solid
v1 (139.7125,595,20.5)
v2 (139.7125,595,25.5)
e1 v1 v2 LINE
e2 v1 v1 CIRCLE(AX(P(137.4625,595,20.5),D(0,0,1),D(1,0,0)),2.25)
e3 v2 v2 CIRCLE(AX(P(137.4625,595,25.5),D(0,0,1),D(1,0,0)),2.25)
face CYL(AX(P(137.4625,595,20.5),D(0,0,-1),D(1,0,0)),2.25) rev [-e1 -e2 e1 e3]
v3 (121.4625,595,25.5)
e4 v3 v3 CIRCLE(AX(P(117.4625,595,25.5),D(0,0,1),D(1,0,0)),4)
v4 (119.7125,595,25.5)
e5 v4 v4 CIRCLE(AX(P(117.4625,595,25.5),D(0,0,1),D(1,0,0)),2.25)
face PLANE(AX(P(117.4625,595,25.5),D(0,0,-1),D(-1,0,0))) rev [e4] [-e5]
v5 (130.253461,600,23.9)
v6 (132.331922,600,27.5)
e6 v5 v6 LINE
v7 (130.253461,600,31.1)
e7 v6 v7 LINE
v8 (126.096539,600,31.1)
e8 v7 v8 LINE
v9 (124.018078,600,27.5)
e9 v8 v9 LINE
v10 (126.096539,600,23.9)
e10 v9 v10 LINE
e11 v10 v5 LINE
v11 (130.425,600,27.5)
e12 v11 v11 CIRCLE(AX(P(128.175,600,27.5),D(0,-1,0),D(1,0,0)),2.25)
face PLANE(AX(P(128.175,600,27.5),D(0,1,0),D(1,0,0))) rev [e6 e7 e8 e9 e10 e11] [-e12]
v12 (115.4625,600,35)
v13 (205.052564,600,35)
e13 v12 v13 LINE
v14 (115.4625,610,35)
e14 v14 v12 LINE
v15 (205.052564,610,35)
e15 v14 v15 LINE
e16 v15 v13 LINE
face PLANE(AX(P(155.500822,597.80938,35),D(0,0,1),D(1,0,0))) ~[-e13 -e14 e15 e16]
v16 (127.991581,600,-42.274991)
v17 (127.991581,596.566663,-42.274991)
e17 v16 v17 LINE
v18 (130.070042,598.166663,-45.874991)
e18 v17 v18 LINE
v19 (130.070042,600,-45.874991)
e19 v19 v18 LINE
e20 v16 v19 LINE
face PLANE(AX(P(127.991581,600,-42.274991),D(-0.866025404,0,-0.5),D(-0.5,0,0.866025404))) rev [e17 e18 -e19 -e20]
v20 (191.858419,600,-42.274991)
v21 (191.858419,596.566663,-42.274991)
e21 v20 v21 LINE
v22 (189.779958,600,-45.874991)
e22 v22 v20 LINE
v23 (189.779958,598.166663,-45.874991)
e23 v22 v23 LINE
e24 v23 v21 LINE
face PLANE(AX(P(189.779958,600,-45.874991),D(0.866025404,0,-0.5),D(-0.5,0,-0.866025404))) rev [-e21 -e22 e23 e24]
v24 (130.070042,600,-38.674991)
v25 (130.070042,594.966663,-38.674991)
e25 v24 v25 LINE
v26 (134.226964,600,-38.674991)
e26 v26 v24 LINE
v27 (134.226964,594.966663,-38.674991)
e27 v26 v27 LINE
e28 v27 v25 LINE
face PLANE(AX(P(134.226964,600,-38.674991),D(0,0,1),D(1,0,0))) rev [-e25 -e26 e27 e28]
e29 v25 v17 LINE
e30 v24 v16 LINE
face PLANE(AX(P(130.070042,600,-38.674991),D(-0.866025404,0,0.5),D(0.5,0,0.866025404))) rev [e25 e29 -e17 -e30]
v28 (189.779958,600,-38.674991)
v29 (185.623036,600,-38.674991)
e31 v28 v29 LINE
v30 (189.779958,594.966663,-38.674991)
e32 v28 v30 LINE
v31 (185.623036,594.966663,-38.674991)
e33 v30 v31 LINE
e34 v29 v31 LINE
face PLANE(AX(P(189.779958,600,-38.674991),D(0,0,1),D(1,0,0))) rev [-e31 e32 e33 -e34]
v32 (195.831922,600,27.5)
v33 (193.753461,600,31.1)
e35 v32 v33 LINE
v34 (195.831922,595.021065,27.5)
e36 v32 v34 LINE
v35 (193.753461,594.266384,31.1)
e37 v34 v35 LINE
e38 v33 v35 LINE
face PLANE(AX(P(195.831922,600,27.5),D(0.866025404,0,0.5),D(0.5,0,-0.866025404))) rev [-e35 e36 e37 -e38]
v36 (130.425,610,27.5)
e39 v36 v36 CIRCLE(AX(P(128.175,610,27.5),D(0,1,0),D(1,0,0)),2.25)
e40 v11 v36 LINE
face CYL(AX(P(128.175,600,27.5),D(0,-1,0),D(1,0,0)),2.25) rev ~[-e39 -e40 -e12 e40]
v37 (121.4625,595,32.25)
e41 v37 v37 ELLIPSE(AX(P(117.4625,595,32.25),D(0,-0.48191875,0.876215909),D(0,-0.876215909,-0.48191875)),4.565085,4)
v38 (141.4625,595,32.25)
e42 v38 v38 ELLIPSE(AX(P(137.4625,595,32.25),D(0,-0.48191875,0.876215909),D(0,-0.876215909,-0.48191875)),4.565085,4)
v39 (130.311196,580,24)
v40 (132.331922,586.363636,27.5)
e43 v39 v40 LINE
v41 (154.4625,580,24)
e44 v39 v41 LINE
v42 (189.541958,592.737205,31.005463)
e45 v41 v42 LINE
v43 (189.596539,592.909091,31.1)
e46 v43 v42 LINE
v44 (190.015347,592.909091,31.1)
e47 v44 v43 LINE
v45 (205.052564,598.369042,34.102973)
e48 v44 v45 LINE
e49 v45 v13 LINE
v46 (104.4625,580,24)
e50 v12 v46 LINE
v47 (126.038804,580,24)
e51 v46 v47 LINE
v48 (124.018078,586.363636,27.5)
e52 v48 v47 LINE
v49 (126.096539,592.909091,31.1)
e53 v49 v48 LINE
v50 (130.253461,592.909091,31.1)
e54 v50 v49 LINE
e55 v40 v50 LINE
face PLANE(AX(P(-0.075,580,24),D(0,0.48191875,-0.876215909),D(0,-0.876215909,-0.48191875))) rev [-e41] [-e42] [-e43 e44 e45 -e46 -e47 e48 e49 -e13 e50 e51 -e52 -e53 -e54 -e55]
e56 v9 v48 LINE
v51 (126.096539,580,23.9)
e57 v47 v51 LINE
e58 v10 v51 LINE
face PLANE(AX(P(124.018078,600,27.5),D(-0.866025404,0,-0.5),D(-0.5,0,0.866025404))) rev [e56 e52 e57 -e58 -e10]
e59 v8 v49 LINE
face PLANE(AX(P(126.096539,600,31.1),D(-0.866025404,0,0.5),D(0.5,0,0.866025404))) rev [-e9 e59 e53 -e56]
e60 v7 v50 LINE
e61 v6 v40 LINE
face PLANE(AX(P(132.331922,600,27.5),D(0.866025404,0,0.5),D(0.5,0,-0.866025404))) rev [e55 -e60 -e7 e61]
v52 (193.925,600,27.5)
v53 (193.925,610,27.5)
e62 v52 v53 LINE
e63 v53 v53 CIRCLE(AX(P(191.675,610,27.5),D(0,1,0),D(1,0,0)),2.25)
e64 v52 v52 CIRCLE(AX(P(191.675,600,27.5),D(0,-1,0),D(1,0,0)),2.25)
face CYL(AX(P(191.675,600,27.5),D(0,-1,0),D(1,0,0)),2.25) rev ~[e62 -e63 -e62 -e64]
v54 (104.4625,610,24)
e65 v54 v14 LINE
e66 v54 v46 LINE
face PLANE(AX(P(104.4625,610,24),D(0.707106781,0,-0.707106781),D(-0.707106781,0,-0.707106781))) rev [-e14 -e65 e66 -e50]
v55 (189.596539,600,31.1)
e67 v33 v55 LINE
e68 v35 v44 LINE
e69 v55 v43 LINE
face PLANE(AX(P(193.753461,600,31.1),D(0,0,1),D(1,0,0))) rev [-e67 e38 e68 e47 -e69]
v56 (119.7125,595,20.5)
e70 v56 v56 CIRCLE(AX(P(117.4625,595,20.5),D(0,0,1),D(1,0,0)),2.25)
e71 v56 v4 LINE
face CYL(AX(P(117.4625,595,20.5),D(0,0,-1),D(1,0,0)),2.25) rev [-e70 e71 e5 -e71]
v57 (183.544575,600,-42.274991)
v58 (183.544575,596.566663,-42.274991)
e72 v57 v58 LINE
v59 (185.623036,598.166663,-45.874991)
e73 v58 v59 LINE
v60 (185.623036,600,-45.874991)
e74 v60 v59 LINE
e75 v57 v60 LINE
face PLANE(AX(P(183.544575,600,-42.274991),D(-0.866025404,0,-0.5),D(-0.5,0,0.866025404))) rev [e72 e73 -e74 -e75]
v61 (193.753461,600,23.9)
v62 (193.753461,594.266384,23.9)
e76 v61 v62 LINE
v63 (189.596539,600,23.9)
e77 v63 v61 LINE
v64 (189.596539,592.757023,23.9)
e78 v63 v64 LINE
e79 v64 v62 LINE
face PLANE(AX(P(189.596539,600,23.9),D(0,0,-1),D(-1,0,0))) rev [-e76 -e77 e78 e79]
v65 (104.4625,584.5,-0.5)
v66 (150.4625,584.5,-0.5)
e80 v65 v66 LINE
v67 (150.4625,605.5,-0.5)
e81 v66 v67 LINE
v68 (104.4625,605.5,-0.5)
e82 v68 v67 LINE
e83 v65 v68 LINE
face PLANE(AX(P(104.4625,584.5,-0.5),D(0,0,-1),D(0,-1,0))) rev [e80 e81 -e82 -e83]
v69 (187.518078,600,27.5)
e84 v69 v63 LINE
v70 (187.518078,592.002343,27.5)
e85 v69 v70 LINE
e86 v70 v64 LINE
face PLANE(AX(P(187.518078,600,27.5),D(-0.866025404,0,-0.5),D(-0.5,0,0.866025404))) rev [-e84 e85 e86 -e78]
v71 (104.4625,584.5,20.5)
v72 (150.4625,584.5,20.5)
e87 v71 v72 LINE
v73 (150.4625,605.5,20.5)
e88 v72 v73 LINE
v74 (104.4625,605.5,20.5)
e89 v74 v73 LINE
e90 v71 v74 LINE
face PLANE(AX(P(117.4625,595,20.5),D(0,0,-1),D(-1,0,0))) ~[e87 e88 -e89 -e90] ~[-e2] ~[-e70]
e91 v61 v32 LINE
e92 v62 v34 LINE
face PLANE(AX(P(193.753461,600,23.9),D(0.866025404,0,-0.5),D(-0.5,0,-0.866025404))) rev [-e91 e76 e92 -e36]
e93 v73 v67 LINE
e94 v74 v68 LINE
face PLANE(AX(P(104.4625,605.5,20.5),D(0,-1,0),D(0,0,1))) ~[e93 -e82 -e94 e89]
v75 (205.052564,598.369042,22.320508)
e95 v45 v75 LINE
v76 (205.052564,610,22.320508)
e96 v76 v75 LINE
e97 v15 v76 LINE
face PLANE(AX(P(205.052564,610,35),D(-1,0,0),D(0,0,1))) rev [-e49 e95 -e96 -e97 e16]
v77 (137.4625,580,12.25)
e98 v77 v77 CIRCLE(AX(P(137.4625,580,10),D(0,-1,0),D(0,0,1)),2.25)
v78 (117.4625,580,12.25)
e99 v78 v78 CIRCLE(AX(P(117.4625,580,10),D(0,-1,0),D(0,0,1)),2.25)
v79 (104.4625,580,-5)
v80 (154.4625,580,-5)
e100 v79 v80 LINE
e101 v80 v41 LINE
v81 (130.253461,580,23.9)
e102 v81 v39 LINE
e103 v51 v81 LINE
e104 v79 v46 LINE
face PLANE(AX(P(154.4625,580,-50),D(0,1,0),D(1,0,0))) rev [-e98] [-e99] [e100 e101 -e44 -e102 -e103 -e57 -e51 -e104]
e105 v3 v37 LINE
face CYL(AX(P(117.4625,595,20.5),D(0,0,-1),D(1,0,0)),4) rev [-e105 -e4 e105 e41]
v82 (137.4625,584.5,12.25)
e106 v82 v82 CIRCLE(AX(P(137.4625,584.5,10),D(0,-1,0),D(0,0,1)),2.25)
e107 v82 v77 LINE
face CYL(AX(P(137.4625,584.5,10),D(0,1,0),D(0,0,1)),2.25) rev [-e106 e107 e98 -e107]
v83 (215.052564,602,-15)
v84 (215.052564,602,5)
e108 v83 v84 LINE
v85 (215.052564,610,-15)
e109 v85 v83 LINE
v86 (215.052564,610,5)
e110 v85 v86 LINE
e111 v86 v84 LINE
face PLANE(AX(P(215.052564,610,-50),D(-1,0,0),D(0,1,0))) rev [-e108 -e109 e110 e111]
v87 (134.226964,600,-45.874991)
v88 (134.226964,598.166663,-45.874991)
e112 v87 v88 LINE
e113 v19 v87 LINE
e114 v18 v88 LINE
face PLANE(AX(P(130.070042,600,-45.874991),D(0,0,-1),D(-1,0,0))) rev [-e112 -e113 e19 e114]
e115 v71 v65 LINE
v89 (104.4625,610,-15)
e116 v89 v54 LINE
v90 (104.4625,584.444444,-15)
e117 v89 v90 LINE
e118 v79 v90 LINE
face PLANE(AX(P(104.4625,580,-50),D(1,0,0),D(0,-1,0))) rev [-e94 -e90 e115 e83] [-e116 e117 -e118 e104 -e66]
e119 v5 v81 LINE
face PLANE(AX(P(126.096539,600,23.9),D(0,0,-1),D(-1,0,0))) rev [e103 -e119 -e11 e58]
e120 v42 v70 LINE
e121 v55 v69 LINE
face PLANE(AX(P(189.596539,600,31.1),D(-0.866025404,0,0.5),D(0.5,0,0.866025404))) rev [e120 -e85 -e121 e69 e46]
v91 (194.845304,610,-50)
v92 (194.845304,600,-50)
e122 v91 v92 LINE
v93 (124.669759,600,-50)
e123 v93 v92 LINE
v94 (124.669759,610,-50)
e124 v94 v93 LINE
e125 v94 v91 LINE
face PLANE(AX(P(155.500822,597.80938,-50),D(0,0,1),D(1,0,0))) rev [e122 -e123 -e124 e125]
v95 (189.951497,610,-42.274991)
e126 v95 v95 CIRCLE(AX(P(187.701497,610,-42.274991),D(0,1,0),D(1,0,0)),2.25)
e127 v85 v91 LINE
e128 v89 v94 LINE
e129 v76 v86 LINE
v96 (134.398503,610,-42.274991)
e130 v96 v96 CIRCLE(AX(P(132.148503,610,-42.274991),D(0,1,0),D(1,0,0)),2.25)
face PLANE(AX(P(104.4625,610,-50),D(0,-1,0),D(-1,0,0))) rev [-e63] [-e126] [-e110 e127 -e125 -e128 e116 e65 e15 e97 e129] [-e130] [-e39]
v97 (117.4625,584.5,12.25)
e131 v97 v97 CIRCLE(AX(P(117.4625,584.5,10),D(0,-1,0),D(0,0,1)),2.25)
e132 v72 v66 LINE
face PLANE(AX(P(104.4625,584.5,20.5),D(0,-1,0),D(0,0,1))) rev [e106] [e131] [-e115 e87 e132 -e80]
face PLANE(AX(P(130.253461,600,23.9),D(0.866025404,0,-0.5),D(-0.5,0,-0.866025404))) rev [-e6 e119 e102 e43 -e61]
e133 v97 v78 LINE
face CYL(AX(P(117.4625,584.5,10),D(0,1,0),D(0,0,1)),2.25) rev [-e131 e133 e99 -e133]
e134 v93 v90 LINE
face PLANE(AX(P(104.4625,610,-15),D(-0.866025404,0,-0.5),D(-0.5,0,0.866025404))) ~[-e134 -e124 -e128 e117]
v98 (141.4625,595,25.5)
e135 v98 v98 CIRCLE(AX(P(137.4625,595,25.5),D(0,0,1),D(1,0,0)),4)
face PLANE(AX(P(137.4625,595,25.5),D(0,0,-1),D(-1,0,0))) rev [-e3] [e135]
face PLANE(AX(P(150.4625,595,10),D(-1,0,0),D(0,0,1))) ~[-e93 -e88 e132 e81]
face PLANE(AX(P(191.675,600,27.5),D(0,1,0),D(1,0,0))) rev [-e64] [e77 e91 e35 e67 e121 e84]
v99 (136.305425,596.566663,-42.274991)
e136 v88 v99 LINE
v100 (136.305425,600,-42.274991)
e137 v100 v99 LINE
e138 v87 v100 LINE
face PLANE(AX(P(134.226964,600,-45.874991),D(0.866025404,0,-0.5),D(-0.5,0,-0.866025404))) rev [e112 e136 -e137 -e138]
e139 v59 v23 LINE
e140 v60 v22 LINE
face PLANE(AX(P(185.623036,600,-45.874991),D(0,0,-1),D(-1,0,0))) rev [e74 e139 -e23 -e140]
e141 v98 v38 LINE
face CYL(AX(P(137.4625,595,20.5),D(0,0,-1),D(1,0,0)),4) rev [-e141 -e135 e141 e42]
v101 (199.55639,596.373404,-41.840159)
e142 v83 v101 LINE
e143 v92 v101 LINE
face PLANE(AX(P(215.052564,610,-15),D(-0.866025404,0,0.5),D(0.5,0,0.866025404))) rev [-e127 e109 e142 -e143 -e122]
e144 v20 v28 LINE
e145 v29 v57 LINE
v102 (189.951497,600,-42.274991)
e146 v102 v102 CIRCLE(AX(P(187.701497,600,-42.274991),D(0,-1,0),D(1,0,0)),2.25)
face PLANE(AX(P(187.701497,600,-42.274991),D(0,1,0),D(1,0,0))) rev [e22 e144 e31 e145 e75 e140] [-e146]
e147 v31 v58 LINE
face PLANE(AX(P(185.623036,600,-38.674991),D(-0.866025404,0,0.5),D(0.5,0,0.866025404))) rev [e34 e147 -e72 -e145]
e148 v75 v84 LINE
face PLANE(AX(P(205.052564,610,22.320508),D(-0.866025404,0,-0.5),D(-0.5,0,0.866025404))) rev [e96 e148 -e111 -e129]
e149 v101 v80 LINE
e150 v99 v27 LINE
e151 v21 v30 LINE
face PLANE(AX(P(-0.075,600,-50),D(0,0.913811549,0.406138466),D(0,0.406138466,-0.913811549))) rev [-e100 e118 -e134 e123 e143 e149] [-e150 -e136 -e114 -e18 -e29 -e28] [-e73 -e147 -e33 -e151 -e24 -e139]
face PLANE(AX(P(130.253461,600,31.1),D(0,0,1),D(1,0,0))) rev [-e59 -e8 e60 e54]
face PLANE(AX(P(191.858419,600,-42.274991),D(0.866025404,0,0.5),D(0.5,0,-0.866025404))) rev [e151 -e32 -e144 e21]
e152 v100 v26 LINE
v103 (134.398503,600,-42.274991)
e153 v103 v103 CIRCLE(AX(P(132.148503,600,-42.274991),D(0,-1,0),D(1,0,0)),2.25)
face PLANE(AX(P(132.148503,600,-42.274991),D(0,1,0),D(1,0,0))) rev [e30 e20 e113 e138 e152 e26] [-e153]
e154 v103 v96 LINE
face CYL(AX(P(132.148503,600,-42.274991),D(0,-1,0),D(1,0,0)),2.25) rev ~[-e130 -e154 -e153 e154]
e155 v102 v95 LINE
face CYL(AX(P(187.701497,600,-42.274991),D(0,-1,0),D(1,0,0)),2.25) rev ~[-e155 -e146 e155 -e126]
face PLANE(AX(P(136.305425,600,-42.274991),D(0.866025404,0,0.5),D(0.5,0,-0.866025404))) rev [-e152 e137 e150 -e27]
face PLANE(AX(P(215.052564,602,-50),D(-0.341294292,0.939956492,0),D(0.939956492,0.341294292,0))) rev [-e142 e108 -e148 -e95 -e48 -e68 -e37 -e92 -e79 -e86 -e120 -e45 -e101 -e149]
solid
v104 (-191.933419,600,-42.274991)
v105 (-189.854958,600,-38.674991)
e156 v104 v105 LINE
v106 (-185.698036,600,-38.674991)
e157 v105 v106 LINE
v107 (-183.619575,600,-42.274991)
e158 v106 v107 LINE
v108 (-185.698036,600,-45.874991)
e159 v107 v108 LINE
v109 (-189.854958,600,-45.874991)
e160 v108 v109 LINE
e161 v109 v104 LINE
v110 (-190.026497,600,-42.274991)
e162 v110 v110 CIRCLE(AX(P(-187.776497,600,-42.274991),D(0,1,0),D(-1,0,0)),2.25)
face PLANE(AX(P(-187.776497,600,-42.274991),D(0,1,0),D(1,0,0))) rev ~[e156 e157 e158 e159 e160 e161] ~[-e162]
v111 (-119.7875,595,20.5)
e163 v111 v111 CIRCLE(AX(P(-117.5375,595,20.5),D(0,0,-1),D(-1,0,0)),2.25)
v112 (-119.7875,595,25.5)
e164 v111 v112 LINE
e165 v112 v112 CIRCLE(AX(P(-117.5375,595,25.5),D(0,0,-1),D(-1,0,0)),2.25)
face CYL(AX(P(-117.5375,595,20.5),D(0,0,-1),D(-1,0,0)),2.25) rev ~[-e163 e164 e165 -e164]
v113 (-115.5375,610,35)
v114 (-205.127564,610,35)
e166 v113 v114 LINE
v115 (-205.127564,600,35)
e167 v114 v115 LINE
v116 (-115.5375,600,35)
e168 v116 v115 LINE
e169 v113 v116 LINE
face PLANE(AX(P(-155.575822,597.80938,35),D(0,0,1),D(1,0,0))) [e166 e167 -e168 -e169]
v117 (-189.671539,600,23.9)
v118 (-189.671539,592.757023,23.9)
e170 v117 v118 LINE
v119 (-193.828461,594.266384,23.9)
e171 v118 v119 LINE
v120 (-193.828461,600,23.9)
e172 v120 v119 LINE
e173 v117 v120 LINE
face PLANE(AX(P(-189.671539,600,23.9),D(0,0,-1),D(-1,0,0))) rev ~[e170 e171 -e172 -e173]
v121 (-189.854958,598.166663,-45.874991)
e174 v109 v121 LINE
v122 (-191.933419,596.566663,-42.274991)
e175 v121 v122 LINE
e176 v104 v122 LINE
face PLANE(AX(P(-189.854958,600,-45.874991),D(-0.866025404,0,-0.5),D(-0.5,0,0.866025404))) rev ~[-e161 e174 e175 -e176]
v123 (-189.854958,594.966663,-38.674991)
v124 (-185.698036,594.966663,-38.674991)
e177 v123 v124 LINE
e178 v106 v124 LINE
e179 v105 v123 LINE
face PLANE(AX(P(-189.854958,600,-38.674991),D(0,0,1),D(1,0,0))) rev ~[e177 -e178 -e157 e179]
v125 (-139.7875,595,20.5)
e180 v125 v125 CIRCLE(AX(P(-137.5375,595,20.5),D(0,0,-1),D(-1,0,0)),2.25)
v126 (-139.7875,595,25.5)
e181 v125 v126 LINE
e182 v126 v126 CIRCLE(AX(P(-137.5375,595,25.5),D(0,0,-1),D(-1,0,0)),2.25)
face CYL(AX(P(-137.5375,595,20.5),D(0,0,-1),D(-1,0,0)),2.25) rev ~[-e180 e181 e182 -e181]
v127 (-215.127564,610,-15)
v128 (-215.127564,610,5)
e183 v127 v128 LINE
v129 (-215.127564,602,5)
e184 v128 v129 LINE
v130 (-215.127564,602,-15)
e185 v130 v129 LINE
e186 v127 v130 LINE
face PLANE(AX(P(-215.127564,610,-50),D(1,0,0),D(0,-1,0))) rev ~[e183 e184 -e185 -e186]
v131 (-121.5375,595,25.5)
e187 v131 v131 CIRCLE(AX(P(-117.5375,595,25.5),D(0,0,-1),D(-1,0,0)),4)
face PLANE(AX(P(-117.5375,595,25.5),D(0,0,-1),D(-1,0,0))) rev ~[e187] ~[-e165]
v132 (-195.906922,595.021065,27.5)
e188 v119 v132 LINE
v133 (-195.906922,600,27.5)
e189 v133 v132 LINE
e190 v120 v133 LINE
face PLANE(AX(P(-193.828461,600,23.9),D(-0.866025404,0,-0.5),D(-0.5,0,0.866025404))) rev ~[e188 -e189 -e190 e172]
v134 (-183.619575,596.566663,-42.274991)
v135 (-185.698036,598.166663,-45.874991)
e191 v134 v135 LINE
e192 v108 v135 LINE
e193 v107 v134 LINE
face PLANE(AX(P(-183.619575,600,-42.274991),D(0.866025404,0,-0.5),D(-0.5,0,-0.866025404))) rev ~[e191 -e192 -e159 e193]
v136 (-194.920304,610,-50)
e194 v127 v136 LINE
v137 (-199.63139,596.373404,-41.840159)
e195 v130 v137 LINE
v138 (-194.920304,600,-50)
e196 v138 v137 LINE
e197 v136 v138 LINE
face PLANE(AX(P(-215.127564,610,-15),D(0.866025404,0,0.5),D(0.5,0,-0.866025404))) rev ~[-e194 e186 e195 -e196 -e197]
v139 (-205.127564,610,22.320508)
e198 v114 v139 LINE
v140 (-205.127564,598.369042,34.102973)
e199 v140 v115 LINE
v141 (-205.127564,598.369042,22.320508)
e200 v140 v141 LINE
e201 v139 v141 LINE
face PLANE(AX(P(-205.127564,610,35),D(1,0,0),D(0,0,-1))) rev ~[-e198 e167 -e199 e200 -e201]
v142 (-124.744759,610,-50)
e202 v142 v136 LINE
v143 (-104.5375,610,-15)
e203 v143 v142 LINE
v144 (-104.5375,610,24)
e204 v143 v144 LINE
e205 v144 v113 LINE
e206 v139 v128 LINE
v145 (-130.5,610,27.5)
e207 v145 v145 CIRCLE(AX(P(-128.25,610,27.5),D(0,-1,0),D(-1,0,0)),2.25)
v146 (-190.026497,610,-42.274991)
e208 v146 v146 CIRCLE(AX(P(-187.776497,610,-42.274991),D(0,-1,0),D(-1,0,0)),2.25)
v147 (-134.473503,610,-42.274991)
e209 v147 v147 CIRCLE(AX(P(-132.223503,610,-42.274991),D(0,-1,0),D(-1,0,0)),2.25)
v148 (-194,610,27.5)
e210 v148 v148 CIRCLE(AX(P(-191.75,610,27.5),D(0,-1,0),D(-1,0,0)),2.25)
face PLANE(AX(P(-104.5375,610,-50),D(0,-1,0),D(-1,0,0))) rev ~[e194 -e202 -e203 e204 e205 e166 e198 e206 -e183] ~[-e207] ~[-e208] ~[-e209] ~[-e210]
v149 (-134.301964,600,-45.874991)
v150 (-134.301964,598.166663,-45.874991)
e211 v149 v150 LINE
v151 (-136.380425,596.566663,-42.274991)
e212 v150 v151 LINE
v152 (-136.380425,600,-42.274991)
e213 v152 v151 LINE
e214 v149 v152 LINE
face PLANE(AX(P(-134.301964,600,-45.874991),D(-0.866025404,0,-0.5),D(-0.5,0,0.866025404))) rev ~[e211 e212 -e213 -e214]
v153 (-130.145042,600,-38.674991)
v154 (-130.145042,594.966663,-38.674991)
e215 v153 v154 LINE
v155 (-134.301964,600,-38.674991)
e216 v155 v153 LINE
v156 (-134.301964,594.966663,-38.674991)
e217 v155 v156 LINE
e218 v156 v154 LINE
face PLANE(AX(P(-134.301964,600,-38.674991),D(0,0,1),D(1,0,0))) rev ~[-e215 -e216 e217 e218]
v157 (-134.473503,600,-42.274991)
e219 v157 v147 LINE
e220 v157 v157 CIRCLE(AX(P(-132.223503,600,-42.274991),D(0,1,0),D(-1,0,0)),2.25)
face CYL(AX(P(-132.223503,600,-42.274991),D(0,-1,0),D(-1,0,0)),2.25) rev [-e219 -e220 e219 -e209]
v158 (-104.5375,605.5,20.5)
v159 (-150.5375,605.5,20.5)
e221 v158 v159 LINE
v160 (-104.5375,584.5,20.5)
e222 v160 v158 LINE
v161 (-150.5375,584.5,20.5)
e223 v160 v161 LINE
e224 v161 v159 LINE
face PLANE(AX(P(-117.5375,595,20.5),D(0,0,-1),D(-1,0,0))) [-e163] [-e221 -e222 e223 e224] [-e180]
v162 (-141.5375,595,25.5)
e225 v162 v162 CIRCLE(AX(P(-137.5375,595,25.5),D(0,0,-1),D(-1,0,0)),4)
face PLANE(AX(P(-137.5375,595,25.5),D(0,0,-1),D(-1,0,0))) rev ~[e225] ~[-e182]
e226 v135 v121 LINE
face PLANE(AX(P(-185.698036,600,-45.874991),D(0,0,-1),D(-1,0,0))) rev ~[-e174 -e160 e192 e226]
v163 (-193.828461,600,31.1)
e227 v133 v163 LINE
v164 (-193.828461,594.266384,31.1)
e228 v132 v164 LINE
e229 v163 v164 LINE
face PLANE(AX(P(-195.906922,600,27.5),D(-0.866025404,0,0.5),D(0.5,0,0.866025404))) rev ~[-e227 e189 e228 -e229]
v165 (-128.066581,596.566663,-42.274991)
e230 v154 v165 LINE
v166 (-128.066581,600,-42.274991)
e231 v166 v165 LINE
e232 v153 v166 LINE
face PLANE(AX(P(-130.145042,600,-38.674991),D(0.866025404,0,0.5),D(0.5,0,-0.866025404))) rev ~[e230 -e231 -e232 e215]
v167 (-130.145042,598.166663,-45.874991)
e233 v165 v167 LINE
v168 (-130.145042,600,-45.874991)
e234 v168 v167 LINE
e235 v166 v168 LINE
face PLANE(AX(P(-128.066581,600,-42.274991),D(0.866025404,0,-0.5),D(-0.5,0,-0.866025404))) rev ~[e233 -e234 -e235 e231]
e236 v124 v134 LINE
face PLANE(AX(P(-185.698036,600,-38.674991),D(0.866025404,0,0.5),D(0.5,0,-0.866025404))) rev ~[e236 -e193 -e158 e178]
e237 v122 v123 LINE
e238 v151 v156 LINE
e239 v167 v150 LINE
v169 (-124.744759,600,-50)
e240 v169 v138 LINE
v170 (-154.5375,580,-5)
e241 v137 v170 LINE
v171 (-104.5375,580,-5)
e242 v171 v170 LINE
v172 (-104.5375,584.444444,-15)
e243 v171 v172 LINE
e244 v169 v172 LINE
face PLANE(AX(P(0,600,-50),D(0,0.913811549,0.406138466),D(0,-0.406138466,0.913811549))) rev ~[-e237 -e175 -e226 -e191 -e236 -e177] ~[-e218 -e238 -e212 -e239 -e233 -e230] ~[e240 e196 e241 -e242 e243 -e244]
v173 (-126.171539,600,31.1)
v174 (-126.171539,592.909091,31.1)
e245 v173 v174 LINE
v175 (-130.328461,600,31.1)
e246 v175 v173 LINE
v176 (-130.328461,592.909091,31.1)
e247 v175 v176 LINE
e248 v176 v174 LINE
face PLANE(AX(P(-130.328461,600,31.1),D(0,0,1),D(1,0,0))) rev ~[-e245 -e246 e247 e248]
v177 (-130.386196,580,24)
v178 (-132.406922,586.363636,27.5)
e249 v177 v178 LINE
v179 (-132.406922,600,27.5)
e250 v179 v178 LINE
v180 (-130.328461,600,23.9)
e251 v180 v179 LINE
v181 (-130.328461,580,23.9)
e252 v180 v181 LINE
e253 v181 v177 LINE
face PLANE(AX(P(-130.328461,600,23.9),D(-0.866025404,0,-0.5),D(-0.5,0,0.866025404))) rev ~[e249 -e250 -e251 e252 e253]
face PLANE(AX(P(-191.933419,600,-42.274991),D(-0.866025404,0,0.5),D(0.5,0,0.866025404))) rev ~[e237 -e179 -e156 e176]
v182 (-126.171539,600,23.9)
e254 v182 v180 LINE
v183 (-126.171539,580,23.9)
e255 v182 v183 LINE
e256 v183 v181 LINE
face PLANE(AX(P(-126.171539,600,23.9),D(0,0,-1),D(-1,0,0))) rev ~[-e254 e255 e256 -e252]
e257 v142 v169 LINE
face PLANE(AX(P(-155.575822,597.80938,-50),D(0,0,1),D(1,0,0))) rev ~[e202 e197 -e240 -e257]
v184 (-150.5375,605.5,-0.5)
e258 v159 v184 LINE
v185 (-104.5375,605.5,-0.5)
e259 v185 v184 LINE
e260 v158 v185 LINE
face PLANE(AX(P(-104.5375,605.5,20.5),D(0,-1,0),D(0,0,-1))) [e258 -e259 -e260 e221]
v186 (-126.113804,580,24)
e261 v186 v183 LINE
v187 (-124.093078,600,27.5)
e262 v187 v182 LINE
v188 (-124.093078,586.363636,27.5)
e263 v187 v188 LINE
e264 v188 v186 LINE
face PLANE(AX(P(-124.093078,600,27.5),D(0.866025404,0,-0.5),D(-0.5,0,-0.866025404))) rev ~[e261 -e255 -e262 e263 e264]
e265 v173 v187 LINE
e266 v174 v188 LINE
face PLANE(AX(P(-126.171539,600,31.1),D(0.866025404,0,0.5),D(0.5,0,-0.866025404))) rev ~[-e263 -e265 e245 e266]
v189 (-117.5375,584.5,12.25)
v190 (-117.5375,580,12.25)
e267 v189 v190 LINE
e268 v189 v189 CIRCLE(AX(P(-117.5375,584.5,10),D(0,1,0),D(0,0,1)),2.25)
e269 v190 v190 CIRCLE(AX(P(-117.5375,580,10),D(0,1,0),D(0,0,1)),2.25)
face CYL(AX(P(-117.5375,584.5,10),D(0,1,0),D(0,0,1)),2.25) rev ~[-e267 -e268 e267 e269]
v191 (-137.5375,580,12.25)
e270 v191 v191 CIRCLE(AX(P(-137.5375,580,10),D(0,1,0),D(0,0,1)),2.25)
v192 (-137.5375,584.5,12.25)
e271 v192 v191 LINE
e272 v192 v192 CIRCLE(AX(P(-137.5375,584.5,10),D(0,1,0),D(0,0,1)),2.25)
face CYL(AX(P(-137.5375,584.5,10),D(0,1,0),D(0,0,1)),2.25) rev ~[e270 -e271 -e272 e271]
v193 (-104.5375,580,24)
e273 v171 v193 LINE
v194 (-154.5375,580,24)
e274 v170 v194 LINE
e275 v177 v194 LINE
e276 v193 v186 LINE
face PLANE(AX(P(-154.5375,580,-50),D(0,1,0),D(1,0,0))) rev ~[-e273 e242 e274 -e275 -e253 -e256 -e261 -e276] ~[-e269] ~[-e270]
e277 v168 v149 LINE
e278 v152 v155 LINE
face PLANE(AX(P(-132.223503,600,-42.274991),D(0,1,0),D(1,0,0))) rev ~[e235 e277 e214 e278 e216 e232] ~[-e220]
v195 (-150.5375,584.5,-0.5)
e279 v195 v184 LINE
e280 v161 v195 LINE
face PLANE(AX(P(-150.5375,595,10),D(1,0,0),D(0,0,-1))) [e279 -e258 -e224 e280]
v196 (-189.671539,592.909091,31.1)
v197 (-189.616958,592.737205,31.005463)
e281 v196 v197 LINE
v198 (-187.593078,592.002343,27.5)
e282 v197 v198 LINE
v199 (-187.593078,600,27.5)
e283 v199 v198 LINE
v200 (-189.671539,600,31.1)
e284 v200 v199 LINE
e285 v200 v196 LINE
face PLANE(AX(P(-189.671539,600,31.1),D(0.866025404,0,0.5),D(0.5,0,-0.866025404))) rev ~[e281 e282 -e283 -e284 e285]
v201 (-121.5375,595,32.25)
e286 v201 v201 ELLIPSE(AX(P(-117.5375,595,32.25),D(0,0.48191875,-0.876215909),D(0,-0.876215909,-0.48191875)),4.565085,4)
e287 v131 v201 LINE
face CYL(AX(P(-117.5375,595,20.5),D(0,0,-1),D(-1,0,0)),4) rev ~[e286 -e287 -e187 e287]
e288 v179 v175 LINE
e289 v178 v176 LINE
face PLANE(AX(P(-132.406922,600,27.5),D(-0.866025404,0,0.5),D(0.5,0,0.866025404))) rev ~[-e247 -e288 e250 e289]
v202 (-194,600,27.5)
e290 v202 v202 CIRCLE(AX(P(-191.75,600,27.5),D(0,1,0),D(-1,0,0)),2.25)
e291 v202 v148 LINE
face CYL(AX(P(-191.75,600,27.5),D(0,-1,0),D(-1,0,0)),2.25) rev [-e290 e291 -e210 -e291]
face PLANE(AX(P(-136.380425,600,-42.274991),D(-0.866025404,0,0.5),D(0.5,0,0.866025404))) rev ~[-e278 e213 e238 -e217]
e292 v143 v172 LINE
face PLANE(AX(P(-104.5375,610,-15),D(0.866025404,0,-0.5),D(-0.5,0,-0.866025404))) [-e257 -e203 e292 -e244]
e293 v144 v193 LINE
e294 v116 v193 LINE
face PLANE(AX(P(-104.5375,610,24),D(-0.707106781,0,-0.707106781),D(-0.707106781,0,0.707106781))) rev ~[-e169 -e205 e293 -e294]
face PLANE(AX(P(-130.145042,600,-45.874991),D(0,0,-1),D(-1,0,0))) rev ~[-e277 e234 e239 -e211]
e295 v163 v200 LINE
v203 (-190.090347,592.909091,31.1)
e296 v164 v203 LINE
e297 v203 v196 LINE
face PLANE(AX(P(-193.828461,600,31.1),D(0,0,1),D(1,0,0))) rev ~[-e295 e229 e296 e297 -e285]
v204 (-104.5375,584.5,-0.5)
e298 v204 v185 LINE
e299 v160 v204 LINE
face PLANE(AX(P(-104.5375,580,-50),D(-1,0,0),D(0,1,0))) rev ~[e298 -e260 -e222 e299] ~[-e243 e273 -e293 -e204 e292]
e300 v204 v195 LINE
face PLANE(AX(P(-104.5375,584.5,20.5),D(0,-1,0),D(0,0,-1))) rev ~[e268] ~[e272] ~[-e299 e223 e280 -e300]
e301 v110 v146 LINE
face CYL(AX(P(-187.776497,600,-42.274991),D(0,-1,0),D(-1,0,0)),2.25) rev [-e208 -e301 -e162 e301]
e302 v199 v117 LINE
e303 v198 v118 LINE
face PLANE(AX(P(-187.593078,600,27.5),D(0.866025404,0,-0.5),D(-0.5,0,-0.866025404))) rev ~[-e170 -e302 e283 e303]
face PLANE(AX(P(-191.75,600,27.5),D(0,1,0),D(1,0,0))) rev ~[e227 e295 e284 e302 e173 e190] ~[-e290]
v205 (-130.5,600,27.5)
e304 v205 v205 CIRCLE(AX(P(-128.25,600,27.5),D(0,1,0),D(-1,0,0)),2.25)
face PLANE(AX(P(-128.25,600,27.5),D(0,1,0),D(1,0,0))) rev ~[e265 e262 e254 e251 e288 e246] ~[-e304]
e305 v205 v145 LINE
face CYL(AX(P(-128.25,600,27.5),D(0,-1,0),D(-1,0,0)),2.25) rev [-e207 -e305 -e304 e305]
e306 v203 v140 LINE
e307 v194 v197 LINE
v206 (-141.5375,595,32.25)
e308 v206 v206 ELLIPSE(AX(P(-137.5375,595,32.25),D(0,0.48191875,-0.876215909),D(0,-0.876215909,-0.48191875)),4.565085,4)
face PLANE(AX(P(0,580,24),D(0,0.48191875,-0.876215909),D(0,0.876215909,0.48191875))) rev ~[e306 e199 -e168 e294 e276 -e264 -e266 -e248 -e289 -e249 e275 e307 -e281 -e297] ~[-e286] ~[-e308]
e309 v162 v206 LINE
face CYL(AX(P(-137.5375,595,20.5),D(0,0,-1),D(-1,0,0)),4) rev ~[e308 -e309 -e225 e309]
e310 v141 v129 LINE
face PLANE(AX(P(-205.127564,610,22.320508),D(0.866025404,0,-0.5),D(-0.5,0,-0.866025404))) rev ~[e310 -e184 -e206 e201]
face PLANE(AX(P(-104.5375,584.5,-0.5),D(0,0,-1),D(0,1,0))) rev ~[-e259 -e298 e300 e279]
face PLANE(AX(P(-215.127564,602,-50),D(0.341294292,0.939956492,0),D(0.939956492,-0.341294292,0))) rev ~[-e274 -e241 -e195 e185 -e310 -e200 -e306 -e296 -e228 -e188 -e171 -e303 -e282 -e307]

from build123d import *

# Parameters (mm, degrees)
BOSS_EXTRUDE1_DEPTH      = 35
BOSS_EXTRUDE1_DEPTH_BACK = 50
CUT_EXTRUDE1_DEPTH       = 35
CUT_EXTRUDE2_DEPTH       = 215
SKETCH4_W                = 21
SKETCH4_H                = 21
CUT_EXTRUDE3_DEPTH       = 46
SKETCH5_R                = 2.25
CUT_EXTRUDE4_DEPTH       = 46
SKETCH5_4_R              = 2.25
CUT_EXTRUDE5_DEPTH       = 46
SKETCH6_R                = 2.25
CUT_EXTRUDE6_DEPTH       = 10
CUT_EXTRUDE7_DEPTH       = 20
SKETCH7_3_R              = 4
SKETCH7_3_R_2            = 2.25
BOSS_EXTRUDE2_DEPTH      = 5


with BuildPart() as part:
    # Sketch1 → Boss-Extrude1 (new, two sides: drawn at the far end of the back side and taken through both)
    with BuildSketch(Plane.XY.offset(-BOSS_EXTRUDE1_DEPTH_BACK)):
        Polygon((-104.5375, 610), (-215.127563509, 610), (-215.127563509, 602), (-154.5375, 580), (-104.5375, 580), align=None)
    extrude(amount=BOSS_EXTRUDE1_DEPTH + BOSS_EXTRUDE1_DEPTH_BACK)

    # Sketch2 → Cut-Extrude1 (cut)
    with BuildSketch(Plane(origin=(0, 610, 0), x_dir=(1, 0, 0), z_dir=(0, 1, 0))):
        Polygon((-215.127563509, 15), (-194.920304088, 50), (-215.127563509, 50), align=None)
        Polygon((-205.127563509, -22.320508076), (-215.127563509, -5), (-215.127563509, -35), (-205.127563509, -35), align=None)
        Polygon((-115.5375, -35), (-104.5375, -35), (-104.5375, -24), align=None)
        Polygon((-104.5375, 50), (-104.5375, 15), (-124.744759422, 50), align=None)
    extrude(amount=-CUT_EXTRUDE1_DEPTH, mode=Mode.SUBTRACT)

    # Sketch3 → Cut-Extrude2 (cut)
    with BuildSketch(Plane(origin=(0, 0, 0), x_dir=(0, 0, -1), z_dir=(1, 0, 0))):
        Polygon((50, 600), (5, 580), (50, 580), align=None)
        Polygon((-24, 580), (-35, 600), (-35, 580), align=None)
    extrude(amount=-CUT_EXTRUDE2_DEPTH, mode=Mode.SUBTRACT)

    # Sketch4 → Cut-Extrude3 (cut)
    with BuildSketch(Plane(origin=(-104.5375, 0, 0), x_dir=(0, 0, -1), z_dir=(1, 0, 0))):
        with Locations((-10, 595)):
            Rectangle(SKETCH4_W, SKETCH4_H)
    extrude(amount=-CUT_EXTRUDE3_DEPTH, mode=Mode.SUBTRACT)

    # Sketch5 → Cut-Extrude4 (cut)
    # profile 1 of 8: a face of its own
    with BuildSketch(Plane(origin=(0, 600, 0), x_dir=(1, 0, 0), z_dir=(0, 1, 0))):
        Polygon((-134.301963661, 38.674990748), (-130.145041723, 38.674990748), (-128.066580754, 42.274990748), (-130.145041723, 45.874990748), (-134.301963661, 45.874990748), (-136.38042463, 42.274990748), align=None)
        with Locations((-132.223502692, 42.274990748)):
            Circle(SKETCH5_R, mode=Mode.SUBTRACT)
    # profile 2 of 8: a face of its own
    with BuildSketch(Plane(origin=(0, 600, 0), x_dir=(1, 0, 0), z_dir=(0, 1, 0))):
        with Locations((-132.223502692, 42.274990748)):
            Circle(SKETCH5_R)
    # profile 3 of 8: a face of its own
    with BuildSketch(Plane(origin=(0, 600, 0), x_dir=(1, 0, 0), z_dir=(0, 1, 0))):
        Polygon((-185.698036339, 45.874990748), (-189.854958277, 45.874990748), (-191.933419246, 42.274990748), (-189.854958277, 38.674990748), (-185.698036339, 38.674990748), (-183.61957537, 42.274990748), align=None)
        with Locations((-187.776497308, 42.274990748)):
            Circle(SKETCH5_R, mode=Mode.SUBTRACT)
    # profile 4 of 8: a face of its own
    with BuildSketch(Plane(origin=(0, 600, 0), x_dir=(1, 0, 0), z_dir=(0, 1, 0))):
        with Locations((-187.776497308, 42.274990748)):
            Circle(SKETCH5_R)
    # profile 5 of 8: a face of its own
    with BuildSketch(Plane(origin=(0, 600, 0), x_dir=(1, 0, 0), z_dir=(0, 1, 0))):
        Polygon((-189.671539031, -23.9), (-193.828460969, -23.9), (-195.906921938, -27.5), (-193.828460969, -31.1), (-189.671539031, -31.1), (-187.593078062, -27.5), align=None)
        with Locations((-191.75, -27.5)):
            Circle(SKETCH5_R, mode=Mode.SUBTRACT)
    # profile 6 of 8: a face of its own
    with BuildSketch(Plane(origin=(0, 600, 0), x_dir=(1, 0, 0), z_dir=(0, 1, 0))):
        with Locations((-191.75, -27.5)):
            Circle(SKETCH5_R)
    # profile 7 of 8: a face of its own
    with BuildSketch(Plane(origin=(0, 600, 0), x_dir=(1, 0, 0), z_dir=(0, 1, 0))):
        Polygon((-126.171539031, -23.9), (-130.328460969, -23.9), (-132.406921938, -27.5), (-130.328460969, -31.1), (-126.171539031, -31.1), (-124.093078062, -27.5), align=None)
        with Locations((-128.25, -27.5)):
            Circle(SKETCH5_R, mode=Mode.SUBTRACT)
    # profile 8 of 8: a face of its own
    with BuildSketch(Plane(origin=(0, 600, 0), x_dir=(1, 0, 0), z_dir=(0, 1, 0))):
        with Locations((-128.25, -27.5)):
            Circle(SKETCH5_R)
    extrude(amount=-CUT_EXTRUDE4_DEPTH, mode=Mode.SUBTRACT)

    # Sketch5<4> → Cut-Extrude5 (cut)
    with BuildSketch(Plane(origin=(0, 600, 0), x_dir=(1, 0, 0), z_dir=(0, 1, 0))):
        with Locations(Location((-132.223502692, 42.274990748, 0), (0, 0, 180))):
            Circle(SKETCH5_4_R)
        with Locations(Location((-187.776497308, 42.274990748, 0), (0, 0, 180))):
            Circle(SKETCH5_4_R)
        with Locations(Location((-191.75, -27.5, 0), (0, 0, 180))):
            Circle(SKETCH5_4_R)
        with Locations(Location((-128.25, -27.5, 0), (0, 0, 180))):
            Circle(SKETCH5_4_R)
    extrude(amount=CUT_EXTRUDE5_DEPTH, mode=Mode.SUBTRACT)

    # Sketch6 → Cut-Extrude6 (cut)
    with BuildSketch(Plane(origin=(0, 584.5, 0), x_dir=(1, 0, 0), z_dir=(0, 1, 0))):
        with Locations(Location((-137.5375, -10, 0), (0, 0, 270))):
            Circle(SKETCH6_R)
        with Locations(Location((-117.5375, -10, 0), (0, 0, 270))):
            Circle(SKETCH6_R)
    extrude(amount=-CUT_EXTRUDE6_DEPTH, mode=Mode.SUBTRACT)

    # Sketch7 → Cut-Extrude7 (cut)
    with BuildSketch(Plane(origin=(0, 0, 20.5), x_dir=(-1, 0, 0), z_dir=(0, 0, -1))):
        with BuildLine():
            ThreePointArc((115.2875, 595), (117.5375, 592.75), (119.7875, 595))
            Line((119.7875, 595), (117.5375, 595))
            Line((117.5375, 595), (115.2875, 595))
        make_face()
        with BuildLine():
            Line((117.5375, 595), (119.7875, 595))
            ThreePointArc((119.7875, 595), (117.5375, 597.25), (115.2875, 595))
            Line((115.2875, 595), (117.5375, 595))
        make_face()
        with BuildLine():
            ThreePointArc((113.5375, 595), (117.5375, 591), (121.5375, 595))
            Line((121.5375, 595), (119.7875, 595))
            ThreePointArc((119.7875, 595), (117.5375, 592.75), (115.2875, 595))
            Line((115.2875, 595), (113.5375, 595))
        make_face()
        with BuildLine():
            Line((119.7875, 595), (121.5375, 595))
            ThreePointArc((121.5375, 595), (117.5375, 599), (113.5375, 595))
            Line((113.5375, 595), (115.2875, 595))
            ThreePointArc((115.2875, 595), (117.5375, 597.25), (119.7875, 595))
        make_face()
        with BuildLine():
            ThreePointArc((135.2875, 595), (137.5375, 592.75), (139.7875, 595))
            Line((139.7875, 595), (137.5375, 595))
            Line((137.5375, 595), (135.2875, 595))
        make_face()
        with BuildLine():
            Line((137.5375, 595), (139.7875, 595))
            ThreePointArc((139.7875, 595), (137.5375, 597.25), (135.2875, 595))
            Line((135.2875, 595), (137.5375, 595))
        make_face()
        with BuildLine():
            ThreePointArc((133.5375, 595), (137.5375, 591), (141.5375, 595))
            Line((141.5375, 595), (139.7875, 595))
            ThreePointArc((139.7875, 595), (137.5375, 592.75), (135.2875, 595))
            Line((135.2875, 595), (133.5375, 595))
        make_face()
        with BuildLine():
            Line((139.7875, 595), (141.5375, 595))
            ThreePointArc((141.5375, 595), (137.5375, 599), (133.5375, 595))
            Line((133.5375, 595), (135.2875, 595))
            ThreePointArc((135.2875, 595), (137.5375, 597.25), (139.7875, 595))
        make_face()
    extrude(amount=-CUT_EXTRUDE7_DEPTH, mode=Mode.SUBTRACT)

    # Sketch7<3> → Boss-Extrude2 (add)
    # profile 1 of 2: a face of its own
    with BuildSketch(Plane(origin=(0, 0, 20.5), x_dir=(-1, 0, 0), z_dir=(0, 0, -1))):
        with Locations((117.5375, 595)):
            Circle(SKETCH7_3_R)
        with Locations((117.5375, 595)):
            Circle(SKETCH7_3_R_2, mode=Mode.SUBTRACT)
    # profile 2 of 2: a face of its own
    with BuildSketch(Plane(origin=(0, 0, 20.5), x_dir=(-1, 0, 0), z_dir=(0, 0, -1))):
        with Locations((137.5375, 595)):
            Circle(SKETCH7_3_R)
        with Locations((137.5375, 595)):
            Circle(SKETCH7_3_R_2, mode=Mode.SUBTRACT)
    extrude(amount=-BOSS_EXTRUDE2_DEPTH)


with BuildPart() as body_2:
    # Mirror2: mirrored copy
    add(part.part.mirror(Plane(origin=(-0.0375, 0, 0), x_dir=(0, 0, 1), z_dir=(1, 0, 0))))


solid = Compound([part.part, body_2.part])
